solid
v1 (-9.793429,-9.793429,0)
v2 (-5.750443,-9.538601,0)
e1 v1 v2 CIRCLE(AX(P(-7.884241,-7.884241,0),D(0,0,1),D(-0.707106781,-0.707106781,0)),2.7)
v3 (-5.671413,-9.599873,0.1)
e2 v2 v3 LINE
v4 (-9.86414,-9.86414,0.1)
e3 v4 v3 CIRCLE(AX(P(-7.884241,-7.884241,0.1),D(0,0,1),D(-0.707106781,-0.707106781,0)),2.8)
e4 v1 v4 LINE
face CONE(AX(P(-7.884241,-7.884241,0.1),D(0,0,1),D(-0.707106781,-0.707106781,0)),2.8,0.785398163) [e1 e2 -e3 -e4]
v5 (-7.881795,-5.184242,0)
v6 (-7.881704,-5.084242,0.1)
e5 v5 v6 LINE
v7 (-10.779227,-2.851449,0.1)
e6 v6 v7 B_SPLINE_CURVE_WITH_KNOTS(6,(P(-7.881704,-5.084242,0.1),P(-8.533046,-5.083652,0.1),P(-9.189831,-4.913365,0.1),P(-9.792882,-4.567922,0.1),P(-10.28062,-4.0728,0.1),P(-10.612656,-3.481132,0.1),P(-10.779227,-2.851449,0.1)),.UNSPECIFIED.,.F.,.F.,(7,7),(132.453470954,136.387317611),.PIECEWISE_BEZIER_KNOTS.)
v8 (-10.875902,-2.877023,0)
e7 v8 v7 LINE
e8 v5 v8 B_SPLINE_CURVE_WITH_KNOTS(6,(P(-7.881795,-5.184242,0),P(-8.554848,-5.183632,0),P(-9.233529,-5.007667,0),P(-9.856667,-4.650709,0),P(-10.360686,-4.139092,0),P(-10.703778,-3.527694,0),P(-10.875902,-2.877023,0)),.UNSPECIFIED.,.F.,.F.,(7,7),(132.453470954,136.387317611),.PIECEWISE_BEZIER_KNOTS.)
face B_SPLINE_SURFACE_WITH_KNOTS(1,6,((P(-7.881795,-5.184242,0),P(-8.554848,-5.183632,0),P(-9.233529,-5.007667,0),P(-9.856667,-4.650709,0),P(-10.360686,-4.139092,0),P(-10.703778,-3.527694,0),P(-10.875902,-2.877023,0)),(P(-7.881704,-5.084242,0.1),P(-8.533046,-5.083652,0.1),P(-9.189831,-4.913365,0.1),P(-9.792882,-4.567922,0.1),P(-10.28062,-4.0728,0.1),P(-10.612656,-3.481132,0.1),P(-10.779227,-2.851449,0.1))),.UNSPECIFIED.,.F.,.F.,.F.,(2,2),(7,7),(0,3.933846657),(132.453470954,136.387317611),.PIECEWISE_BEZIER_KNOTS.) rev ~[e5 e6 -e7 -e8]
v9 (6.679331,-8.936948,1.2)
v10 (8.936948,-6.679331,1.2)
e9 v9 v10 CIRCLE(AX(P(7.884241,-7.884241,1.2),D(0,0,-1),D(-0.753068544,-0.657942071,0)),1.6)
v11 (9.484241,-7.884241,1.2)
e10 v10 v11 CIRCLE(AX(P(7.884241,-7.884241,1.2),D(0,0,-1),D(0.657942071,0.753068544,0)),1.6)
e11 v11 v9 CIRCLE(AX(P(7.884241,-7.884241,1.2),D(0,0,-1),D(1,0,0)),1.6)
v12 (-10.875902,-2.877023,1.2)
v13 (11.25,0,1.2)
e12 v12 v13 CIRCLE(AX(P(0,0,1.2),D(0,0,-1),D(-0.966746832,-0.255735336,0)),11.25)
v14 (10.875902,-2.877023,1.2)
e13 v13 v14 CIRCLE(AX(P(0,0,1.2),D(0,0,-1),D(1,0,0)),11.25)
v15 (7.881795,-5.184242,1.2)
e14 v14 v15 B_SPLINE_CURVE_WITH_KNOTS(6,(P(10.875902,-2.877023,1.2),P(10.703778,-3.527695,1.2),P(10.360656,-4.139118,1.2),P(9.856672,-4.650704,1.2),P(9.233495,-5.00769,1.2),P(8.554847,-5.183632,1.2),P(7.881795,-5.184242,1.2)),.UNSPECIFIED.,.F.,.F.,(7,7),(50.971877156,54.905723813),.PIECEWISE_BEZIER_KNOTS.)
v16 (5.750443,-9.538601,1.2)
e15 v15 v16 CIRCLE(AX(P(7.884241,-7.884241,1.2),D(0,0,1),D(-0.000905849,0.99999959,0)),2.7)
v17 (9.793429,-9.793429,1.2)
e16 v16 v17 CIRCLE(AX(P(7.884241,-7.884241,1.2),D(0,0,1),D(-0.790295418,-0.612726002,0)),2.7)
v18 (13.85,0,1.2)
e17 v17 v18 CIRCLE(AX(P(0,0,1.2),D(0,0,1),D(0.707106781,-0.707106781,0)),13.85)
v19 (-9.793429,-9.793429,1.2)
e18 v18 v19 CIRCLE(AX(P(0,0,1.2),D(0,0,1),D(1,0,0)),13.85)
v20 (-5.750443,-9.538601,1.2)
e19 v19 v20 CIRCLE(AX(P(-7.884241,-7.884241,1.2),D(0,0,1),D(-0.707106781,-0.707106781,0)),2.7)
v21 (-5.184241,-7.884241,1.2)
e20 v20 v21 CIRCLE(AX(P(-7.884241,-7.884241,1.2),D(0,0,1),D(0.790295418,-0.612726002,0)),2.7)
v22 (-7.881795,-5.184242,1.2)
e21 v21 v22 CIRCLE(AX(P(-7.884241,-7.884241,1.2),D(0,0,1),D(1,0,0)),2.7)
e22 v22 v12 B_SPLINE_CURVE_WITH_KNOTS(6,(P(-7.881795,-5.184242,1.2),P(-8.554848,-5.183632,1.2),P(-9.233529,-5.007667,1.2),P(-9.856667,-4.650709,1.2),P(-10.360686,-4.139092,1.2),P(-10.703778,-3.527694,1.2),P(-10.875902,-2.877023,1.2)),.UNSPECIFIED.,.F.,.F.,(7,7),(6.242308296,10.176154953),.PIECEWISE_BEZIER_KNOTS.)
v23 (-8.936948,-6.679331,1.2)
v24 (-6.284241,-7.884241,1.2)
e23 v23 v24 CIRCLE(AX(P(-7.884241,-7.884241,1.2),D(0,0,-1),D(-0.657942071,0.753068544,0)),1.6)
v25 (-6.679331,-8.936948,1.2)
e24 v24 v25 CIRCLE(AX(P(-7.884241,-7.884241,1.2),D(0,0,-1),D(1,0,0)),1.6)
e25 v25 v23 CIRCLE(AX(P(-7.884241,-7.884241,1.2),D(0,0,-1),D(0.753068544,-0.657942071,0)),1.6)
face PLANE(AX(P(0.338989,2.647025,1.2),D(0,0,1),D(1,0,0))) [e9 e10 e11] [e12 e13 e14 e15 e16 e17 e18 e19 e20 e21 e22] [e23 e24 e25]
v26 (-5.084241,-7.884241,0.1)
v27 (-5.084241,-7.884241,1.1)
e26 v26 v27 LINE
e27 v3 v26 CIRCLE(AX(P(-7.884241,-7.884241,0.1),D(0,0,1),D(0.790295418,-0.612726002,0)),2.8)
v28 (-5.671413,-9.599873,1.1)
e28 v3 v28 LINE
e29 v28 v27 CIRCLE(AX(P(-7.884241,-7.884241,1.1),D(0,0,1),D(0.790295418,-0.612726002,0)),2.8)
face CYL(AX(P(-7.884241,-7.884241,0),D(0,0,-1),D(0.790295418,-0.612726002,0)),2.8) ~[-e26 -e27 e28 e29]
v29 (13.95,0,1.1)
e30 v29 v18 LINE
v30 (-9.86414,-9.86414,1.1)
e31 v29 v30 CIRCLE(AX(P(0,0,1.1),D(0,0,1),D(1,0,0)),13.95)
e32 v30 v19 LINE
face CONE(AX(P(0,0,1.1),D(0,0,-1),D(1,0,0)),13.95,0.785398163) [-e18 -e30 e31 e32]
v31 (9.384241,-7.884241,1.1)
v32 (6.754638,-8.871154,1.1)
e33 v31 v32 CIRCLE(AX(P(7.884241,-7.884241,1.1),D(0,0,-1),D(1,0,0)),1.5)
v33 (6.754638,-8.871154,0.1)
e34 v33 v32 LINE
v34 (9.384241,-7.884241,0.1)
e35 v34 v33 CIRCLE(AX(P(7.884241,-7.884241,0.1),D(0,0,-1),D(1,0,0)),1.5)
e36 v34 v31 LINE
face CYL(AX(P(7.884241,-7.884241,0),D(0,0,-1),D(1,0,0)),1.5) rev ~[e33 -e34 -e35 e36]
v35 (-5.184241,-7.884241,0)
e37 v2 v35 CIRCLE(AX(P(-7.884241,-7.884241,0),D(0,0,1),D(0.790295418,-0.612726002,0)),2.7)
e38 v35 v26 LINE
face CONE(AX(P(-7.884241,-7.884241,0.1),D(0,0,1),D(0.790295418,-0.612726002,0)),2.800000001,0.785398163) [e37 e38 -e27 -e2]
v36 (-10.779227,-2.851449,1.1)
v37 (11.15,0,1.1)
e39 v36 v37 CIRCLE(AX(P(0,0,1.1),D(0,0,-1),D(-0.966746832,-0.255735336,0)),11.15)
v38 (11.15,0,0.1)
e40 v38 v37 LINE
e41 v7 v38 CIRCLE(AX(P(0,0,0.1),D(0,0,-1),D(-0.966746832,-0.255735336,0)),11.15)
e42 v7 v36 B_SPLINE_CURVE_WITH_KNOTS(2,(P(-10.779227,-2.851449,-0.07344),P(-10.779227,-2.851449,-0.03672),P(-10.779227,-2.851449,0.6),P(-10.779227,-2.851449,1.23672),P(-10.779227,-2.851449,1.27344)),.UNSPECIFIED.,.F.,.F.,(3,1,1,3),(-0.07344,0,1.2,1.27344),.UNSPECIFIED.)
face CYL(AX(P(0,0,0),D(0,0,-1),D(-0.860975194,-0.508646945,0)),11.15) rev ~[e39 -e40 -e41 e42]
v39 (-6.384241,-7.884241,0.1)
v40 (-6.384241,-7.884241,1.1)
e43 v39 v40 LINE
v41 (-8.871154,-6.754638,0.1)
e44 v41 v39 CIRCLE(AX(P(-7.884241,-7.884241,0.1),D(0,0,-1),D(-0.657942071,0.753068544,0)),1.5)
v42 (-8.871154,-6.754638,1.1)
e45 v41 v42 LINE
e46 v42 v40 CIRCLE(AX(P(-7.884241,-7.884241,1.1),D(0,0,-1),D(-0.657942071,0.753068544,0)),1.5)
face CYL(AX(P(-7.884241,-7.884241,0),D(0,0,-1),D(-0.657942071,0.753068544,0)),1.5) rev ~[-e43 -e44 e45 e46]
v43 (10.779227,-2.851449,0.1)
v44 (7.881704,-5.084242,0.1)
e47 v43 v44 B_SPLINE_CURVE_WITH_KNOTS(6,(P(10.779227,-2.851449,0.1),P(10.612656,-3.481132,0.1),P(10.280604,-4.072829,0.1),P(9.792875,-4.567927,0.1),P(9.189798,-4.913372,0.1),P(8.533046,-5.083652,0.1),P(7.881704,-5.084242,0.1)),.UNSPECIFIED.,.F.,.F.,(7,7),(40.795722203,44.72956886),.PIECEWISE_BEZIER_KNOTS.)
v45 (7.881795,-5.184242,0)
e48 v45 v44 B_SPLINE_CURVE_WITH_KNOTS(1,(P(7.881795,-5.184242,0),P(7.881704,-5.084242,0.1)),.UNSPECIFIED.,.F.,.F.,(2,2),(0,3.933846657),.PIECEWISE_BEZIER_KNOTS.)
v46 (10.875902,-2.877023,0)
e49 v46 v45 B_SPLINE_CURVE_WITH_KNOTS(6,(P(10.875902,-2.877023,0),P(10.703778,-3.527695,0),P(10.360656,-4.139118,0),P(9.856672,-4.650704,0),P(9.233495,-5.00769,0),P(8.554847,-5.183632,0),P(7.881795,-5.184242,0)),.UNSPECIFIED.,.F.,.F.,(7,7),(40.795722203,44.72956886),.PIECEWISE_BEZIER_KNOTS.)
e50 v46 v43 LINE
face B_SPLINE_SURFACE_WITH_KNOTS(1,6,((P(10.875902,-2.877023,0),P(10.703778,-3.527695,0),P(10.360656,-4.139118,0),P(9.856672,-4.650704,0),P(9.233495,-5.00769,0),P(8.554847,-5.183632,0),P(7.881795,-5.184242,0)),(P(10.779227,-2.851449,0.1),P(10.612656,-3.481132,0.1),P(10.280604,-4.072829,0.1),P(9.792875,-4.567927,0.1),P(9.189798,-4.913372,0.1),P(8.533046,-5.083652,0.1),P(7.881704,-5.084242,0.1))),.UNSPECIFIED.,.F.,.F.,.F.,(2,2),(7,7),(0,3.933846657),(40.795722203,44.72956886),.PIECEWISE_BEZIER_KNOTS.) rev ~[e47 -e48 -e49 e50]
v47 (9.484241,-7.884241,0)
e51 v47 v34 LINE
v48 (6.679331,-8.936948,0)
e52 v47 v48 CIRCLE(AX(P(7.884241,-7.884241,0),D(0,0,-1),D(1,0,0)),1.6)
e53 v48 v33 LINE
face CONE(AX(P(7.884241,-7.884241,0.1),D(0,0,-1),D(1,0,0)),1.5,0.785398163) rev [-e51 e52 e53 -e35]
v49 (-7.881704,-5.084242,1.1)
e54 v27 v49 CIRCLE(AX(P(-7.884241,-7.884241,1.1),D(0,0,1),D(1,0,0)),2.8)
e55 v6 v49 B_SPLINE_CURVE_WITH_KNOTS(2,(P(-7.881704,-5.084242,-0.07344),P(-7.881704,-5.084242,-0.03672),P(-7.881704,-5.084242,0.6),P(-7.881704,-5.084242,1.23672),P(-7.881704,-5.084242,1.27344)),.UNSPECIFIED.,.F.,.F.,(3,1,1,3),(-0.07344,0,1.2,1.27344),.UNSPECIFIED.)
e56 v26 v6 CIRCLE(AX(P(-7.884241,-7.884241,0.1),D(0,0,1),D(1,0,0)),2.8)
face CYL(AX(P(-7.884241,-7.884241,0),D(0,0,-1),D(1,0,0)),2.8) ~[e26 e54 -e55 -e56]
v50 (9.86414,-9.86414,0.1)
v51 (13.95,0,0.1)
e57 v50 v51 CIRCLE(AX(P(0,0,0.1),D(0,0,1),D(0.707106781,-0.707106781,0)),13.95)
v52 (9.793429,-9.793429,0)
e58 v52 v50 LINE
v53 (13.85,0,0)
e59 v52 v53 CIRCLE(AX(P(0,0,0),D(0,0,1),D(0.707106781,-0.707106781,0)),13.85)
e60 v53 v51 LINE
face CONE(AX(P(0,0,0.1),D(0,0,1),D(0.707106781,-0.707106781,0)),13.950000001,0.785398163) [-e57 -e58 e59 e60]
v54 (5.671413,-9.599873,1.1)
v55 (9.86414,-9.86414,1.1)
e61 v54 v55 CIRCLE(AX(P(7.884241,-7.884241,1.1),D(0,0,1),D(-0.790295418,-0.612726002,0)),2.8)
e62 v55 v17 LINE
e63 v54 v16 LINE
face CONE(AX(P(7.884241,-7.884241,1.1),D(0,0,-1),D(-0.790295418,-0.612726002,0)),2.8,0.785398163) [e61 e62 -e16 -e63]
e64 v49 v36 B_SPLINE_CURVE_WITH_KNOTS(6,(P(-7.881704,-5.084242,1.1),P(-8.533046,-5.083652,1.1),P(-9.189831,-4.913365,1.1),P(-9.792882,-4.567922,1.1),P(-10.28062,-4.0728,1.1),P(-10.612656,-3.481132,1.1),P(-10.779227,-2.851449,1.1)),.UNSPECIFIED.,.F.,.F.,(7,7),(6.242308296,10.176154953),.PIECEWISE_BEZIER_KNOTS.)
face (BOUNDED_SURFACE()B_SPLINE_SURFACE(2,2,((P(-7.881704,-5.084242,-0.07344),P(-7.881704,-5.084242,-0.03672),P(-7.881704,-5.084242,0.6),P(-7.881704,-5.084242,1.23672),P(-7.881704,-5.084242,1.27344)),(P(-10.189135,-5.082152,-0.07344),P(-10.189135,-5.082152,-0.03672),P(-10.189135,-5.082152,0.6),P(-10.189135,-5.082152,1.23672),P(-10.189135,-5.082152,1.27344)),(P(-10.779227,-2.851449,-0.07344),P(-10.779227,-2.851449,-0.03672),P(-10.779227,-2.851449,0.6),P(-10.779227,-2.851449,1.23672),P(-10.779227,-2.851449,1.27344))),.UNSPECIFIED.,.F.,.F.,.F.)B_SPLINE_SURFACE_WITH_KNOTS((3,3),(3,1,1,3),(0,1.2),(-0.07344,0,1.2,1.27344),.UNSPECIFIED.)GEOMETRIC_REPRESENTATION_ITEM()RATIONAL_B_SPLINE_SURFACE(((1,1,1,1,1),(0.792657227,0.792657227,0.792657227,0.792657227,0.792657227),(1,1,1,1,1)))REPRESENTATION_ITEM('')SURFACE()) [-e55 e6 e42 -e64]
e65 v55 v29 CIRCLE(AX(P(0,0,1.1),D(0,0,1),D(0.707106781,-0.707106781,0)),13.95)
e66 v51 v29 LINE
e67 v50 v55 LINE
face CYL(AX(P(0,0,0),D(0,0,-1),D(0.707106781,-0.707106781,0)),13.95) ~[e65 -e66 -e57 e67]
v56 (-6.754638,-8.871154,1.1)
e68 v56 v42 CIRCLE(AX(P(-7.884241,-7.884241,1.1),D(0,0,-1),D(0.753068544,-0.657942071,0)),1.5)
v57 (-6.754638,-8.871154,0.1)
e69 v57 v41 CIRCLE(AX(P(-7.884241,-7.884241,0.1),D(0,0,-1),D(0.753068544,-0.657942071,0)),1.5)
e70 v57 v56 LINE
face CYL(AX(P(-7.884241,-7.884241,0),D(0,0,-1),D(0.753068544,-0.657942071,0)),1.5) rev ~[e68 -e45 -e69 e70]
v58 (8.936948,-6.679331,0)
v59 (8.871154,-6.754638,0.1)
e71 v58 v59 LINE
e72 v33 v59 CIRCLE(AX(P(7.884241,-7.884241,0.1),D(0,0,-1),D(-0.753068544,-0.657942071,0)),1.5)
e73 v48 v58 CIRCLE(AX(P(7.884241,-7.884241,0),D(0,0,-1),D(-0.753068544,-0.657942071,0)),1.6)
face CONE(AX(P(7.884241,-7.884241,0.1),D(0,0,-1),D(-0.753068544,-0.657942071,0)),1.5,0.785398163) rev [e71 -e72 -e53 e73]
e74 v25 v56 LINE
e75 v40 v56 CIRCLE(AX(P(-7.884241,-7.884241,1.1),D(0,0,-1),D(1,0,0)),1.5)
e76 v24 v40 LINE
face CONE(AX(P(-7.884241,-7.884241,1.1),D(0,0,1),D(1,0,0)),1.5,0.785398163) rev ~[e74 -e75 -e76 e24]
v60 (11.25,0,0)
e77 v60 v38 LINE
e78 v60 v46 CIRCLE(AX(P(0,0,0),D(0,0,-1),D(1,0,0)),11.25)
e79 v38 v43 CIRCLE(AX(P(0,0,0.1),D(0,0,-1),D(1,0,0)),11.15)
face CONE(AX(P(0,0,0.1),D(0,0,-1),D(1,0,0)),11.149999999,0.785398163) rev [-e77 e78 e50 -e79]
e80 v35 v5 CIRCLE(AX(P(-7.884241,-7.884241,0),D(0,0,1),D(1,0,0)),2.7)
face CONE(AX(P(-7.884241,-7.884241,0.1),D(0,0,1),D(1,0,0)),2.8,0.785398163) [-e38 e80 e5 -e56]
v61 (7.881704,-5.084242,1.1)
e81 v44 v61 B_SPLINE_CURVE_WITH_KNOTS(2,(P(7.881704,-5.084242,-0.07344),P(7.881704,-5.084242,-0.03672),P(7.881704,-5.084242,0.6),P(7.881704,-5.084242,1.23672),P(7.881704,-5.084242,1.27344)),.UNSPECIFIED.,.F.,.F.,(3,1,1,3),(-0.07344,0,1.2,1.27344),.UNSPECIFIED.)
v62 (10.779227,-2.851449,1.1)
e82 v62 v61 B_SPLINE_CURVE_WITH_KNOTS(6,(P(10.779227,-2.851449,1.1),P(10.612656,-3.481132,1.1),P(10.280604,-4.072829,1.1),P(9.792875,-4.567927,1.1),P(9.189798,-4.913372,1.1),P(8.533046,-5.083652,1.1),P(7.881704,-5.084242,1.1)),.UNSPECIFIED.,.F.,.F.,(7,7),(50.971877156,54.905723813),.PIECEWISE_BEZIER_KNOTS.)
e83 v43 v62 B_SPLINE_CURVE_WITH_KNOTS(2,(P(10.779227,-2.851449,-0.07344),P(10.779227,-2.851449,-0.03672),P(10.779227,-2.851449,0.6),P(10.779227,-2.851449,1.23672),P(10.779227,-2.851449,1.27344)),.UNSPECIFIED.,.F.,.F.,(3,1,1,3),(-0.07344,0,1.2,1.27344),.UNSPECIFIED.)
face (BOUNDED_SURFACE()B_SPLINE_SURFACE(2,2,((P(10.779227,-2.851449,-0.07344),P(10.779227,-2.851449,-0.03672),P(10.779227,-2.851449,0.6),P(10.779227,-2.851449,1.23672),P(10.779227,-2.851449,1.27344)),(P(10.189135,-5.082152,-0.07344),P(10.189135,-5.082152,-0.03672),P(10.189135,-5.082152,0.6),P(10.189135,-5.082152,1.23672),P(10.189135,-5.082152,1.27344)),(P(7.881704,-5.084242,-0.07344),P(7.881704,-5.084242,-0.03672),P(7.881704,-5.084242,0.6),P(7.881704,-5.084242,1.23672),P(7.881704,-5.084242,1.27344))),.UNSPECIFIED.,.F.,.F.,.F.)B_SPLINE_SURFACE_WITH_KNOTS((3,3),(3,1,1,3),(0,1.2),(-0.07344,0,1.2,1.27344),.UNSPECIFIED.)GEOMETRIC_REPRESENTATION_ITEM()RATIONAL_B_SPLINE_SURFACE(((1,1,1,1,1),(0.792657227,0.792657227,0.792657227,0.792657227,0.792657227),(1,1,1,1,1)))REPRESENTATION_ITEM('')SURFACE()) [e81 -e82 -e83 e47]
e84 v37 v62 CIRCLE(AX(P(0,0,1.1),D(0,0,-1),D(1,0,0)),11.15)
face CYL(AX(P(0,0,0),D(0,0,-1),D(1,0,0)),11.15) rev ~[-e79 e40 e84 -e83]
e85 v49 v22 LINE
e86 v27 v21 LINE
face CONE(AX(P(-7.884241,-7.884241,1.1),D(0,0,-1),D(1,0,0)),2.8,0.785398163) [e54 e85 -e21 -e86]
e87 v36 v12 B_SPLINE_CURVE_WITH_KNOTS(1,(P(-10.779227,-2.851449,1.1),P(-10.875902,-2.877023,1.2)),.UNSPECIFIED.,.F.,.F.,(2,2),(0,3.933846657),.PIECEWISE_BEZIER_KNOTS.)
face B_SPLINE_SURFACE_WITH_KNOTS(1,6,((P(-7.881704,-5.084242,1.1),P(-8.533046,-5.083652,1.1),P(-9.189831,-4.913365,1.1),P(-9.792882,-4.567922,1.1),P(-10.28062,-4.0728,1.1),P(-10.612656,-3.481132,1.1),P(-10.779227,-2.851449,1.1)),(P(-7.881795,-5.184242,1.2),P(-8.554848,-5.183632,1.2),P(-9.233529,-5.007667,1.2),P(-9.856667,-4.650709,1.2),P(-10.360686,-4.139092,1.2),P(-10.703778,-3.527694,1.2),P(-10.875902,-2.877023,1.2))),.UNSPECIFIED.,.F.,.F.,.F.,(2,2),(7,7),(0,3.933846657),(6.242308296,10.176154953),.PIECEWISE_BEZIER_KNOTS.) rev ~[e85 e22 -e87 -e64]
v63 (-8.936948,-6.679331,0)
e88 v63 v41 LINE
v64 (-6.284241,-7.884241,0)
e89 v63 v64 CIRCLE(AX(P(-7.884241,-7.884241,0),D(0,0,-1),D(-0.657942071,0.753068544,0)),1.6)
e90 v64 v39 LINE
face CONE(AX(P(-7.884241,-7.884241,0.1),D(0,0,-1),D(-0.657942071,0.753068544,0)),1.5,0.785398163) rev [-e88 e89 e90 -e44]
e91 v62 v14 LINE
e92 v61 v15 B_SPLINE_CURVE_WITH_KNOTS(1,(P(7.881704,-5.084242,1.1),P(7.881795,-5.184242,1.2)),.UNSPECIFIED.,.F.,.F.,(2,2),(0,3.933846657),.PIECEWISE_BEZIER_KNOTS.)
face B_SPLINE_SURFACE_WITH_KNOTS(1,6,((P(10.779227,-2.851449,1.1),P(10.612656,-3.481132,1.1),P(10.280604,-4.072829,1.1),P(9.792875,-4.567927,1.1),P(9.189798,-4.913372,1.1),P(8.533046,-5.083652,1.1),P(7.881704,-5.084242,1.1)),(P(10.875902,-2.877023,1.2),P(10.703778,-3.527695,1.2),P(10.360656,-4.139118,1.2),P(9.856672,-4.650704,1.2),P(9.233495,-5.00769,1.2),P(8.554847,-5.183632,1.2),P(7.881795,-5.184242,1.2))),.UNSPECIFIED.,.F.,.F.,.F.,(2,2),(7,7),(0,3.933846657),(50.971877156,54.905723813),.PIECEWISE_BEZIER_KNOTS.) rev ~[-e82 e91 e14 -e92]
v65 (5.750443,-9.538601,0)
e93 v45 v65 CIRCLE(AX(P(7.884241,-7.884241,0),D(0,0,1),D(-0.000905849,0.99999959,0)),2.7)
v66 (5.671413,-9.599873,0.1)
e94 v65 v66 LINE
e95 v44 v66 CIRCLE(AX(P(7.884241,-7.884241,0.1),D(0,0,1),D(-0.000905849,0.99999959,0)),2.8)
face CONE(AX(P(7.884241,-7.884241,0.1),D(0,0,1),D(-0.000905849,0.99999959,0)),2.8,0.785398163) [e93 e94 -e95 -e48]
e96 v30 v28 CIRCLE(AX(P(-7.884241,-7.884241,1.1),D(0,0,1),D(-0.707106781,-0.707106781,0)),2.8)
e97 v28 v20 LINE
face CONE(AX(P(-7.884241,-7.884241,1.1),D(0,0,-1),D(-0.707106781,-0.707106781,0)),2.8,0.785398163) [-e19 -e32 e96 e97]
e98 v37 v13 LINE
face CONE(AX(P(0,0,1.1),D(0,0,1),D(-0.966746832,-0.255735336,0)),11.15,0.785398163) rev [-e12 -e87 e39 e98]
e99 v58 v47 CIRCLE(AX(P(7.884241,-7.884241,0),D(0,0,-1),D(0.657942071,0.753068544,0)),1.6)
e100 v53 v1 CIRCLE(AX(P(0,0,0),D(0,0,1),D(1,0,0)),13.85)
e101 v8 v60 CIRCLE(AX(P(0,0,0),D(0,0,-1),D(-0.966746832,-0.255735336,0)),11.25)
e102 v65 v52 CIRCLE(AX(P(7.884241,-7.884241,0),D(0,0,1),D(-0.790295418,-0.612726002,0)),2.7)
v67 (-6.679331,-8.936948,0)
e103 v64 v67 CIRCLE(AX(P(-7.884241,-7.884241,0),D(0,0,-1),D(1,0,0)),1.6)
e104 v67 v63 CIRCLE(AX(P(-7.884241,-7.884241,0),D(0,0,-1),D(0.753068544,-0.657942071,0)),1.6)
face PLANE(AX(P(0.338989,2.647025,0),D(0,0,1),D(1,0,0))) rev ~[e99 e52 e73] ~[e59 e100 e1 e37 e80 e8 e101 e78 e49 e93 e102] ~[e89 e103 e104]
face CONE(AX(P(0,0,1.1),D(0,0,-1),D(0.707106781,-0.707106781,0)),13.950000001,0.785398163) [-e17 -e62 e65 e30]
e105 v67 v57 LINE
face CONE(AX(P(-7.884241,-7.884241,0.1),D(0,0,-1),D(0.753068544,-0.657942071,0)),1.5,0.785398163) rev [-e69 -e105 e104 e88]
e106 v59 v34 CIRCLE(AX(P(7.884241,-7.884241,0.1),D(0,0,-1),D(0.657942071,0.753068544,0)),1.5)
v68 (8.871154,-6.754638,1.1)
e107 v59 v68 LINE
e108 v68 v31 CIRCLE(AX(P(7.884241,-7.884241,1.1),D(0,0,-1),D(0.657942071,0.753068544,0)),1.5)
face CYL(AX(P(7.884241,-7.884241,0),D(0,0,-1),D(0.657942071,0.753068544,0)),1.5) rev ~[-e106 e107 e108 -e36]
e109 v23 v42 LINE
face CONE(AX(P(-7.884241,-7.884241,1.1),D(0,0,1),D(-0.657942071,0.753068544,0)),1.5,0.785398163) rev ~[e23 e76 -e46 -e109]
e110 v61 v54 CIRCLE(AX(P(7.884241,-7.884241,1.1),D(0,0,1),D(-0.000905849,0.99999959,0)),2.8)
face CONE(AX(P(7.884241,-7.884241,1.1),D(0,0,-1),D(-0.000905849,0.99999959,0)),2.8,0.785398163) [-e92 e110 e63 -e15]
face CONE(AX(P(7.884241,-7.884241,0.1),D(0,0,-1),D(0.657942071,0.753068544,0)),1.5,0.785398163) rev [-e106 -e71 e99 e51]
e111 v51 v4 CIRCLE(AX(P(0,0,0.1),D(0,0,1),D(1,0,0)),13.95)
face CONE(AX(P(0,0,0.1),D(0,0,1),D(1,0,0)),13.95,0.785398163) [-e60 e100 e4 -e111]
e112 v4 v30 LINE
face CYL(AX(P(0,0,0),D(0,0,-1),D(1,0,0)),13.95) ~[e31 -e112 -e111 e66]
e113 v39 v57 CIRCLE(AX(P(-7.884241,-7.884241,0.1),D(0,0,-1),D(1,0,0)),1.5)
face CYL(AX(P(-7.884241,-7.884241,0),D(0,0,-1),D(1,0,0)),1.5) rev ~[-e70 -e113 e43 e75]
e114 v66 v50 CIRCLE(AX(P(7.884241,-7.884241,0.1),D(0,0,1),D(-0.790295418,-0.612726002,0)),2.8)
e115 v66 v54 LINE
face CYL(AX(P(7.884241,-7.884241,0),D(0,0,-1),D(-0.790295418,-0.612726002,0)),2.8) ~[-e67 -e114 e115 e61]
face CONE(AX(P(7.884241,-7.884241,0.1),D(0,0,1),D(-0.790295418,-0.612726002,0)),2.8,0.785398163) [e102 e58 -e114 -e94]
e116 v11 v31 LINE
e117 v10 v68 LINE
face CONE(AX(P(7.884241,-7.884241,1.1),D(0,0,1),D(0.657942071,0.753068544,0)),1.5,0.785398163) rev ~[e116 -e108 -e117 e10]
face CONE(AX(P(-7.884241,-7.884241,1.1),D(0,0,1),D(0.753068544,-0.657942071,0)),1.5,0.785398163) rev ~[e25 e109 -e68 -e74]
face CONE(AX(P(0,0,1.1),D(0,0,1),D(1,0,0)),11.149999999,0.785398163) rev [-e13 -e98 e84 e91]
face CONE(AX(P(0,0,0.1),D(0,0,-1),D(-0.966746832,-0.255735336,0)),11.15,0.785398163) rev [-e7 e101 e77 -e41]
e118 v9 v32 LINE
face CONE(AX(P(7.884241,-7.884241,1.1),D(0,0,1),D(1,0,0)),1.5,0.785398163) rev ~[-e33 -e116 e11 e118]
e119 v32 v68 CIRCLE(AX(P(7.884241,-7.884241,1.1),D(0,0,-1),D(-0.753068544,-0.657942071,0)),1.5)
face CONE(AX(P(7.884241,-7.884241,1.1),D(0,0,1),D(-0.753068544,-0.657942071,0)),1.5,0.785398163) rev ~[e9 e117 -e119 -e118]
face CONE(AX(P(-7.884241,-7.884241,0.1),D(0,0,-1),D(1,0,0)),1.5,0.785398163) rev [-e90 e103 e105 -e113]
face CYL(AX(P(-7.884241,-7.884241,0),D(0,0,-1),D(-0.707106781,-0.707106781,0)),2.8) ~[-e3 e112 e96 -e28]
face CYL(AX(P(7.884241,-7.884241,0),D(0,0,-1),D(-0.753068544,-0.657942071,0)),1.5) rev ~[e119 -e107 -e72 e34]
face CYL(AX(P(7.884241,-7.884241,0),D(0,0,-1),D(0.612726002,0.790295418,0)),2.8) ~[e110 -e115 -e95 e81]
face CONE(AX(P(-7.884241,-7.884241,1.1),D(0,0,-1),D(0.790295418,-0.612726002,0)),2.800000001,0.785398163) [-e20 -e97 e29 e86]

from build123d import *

# Parameters (mm, degrees)
F1_DEPTH = 1.2
F2_R     = 3
F3_SIZE  = 0.1


with BuildPart() as f1:
    # F0 (on Top) → F1 (new body)
    with BuildSketch(Plane.XY):
        with BuildLine():
            ThreePointArc((9.8641395976, -9.8641395976), (12.8881194785, -5.3384338815), (13.95, 0))
            ThreePointArc((13.95, 0), (-5.3384338815, 12.8881194785), (-9.8641395976, -9.8641395976))
            ThreePointArc((-9.8641395976, -9.8641395976), (-10.6786952908, -7.7081070294), (-9.5998734147, -5.6714134412))
            ThreePointArc((-9.5998734147, -5.6714134412), (-2.939720346, 10.7554890306), (11.15, 0))
            ThreePointArc((11.15, 0), (10.7554890306, -2.939720346), (9.5998734147, -5.6714134412))
            ThreePointArc((9.5998734147, -5.6714134412), (10.3985766909, -6.6521228911), (10.6842406102, -7.8842406102))
            ThreePointArc((10.6842406102, -7.8842406102), (10.4711033013, -8.9557542209), (9.8641395976, -9.8641395976))
        make_face()
        with BuildLine():
            ThreePointArc((-5.0842406102, -7.8842406102), (-6.6521228911, -5.3699045296), (-9.5998734147, -5.6714134412))
            ThreePointArc((-9.5998734147, -5.6714134412), (-9.251381225, -6.2237003004), (-8.8711537165, -6.7546377948))
            ThreePointArc((-8.8711537165, -6.7546377948), (-7.2639058858, -6.5185229126), (-6.3842406102, -7.8842406102))
            ThreePointArc((-6.3842406102, -7.8842406102), (-6.4798894748, -8.4113059652), (-6.7546377948, -8.8711537165))
            ThreePointArc((-6.7546377948, -8.8711537165), (-6.2237003004, -9.251381225), (-5.6714134412, -9.5998734147))
            ThreePointArc((-5.6714134412, -9.5998734147), (-5.2350977231, -8.7909059086), (-5.0842406102, -7.8842406102))
        make_face()
        with BuildLine():
            ThreePointArc((-9.5998734147, -5.6714134412), (-10.6786952908, -7.7081070294), (-9.8641395976, -9.8641395976))
            ThreePointArc((-9.8641395976, -9.8641395976), (-7.7081070294, -10.6786952908), (-5.6714134412, -9.5998734147))
            ThreePointArc((-5.6714134412, -9.5998734147), (-6.2237003004, -9.251381225), (-6.7546377948, -8.8711537165))
            ThreePointArc((-6.7546377948, -8.8711537165), (-8.944900782, -8.944900782), (-8.8711537165, -6.7546377948))
            ThreePointArc((-8.8711537165, -6.7546377948), (-9.251381225, -6.2237003004), (-9.5998734147, -5.6714134412))
        make_face()
        with BuildLine():
            ThreePointArc((9.5998734147, -5.6714134412), (5.9043416229, -5.9043416229), (5.6714134412, -9.5998734147))
            ThreePointArc((5.6714134412, -9.5998734147), (6.2237003004, -9.251381225), (6.7546377948, -8.8711537165))
            ThreePointArc((6.7546377948, -8.8711537165), (6.8235804385, -6.8235804385), (8.8711537165, -6.7546377948))
            ThreePointArc((8.8711537165, -6.7546377948), (9.251381225, -6.2237003004), (9.5998734147, -5.6714134412))
        make_face()
        with BuildLine():
            ThreePointArc((5.6714134412, -9.5998734147), (7.7081070294, -10.6786952908), (9.8641395976, -9.8641395976))
            ThreePointArc((9.8641395976, -9.8641395976), (10.4711033013, -8.9557542209), (10.6842406102, -7.8842406102))
            ThreePointArc((10.6842406102, -7.8842406102), (10.3985766909, -6.6521228911), (9.5998734147, -5.6714134412))
            ThreePointArc((9.5998734147, -5.6714134412), (9.251381225, -6.2237003004), (8.8711537165, -6.7546377948))
            ThreePointArc((8.8711537165, -6.7546377948), (9.2499583079, -7.2639058858), (9.3842406102, -7.8842406102))
            ThreePointArc((9.3842406102, -7.8842406102), (8.4113059652, -9.2885917457), (6.7546377948, -8.8711537165))
            ThreePointArc((6.7546377948, -8.8711537165), (6.2237003004, -9.251381225), (5.6714134412, -9.5998734147))
        make_face()
    extrude(amount=F1_DEPTH)

    # F2
    f2_edges = [f1.edges().sort_by_distance(p)[0] for p in [
        (-9.599873, -5.671413, 0.6),
        (9.599873, -5.671413, 0.6),
    ]]
    fillet(f2_edges, radius=F2_R)

    # F3
    f3_edges = [f1.edges().sort_by_distance(p)[0] for p in [
        (-5.297863, -8.956926, 1.2),
        (-9.710143, -4.460557, 1.2),
        (0, 13.95, 1.2),
        (0, 11.15, 1.2),
        (5.297863, -8.956926, 1.2),
        (9.710143, -4.460557, 1.2),
        (-6.897328, -9.013843, 1.2),
        (9.013843, -6.897328, 1.2),
        (0, 11.15, 0),
        (-6.897328, -9.013843, 0),
        (9.013843, -6.897328, 0),
    ]]
    chamfer(f3_edges, length=F3_SIZE)


solid = f1.part
